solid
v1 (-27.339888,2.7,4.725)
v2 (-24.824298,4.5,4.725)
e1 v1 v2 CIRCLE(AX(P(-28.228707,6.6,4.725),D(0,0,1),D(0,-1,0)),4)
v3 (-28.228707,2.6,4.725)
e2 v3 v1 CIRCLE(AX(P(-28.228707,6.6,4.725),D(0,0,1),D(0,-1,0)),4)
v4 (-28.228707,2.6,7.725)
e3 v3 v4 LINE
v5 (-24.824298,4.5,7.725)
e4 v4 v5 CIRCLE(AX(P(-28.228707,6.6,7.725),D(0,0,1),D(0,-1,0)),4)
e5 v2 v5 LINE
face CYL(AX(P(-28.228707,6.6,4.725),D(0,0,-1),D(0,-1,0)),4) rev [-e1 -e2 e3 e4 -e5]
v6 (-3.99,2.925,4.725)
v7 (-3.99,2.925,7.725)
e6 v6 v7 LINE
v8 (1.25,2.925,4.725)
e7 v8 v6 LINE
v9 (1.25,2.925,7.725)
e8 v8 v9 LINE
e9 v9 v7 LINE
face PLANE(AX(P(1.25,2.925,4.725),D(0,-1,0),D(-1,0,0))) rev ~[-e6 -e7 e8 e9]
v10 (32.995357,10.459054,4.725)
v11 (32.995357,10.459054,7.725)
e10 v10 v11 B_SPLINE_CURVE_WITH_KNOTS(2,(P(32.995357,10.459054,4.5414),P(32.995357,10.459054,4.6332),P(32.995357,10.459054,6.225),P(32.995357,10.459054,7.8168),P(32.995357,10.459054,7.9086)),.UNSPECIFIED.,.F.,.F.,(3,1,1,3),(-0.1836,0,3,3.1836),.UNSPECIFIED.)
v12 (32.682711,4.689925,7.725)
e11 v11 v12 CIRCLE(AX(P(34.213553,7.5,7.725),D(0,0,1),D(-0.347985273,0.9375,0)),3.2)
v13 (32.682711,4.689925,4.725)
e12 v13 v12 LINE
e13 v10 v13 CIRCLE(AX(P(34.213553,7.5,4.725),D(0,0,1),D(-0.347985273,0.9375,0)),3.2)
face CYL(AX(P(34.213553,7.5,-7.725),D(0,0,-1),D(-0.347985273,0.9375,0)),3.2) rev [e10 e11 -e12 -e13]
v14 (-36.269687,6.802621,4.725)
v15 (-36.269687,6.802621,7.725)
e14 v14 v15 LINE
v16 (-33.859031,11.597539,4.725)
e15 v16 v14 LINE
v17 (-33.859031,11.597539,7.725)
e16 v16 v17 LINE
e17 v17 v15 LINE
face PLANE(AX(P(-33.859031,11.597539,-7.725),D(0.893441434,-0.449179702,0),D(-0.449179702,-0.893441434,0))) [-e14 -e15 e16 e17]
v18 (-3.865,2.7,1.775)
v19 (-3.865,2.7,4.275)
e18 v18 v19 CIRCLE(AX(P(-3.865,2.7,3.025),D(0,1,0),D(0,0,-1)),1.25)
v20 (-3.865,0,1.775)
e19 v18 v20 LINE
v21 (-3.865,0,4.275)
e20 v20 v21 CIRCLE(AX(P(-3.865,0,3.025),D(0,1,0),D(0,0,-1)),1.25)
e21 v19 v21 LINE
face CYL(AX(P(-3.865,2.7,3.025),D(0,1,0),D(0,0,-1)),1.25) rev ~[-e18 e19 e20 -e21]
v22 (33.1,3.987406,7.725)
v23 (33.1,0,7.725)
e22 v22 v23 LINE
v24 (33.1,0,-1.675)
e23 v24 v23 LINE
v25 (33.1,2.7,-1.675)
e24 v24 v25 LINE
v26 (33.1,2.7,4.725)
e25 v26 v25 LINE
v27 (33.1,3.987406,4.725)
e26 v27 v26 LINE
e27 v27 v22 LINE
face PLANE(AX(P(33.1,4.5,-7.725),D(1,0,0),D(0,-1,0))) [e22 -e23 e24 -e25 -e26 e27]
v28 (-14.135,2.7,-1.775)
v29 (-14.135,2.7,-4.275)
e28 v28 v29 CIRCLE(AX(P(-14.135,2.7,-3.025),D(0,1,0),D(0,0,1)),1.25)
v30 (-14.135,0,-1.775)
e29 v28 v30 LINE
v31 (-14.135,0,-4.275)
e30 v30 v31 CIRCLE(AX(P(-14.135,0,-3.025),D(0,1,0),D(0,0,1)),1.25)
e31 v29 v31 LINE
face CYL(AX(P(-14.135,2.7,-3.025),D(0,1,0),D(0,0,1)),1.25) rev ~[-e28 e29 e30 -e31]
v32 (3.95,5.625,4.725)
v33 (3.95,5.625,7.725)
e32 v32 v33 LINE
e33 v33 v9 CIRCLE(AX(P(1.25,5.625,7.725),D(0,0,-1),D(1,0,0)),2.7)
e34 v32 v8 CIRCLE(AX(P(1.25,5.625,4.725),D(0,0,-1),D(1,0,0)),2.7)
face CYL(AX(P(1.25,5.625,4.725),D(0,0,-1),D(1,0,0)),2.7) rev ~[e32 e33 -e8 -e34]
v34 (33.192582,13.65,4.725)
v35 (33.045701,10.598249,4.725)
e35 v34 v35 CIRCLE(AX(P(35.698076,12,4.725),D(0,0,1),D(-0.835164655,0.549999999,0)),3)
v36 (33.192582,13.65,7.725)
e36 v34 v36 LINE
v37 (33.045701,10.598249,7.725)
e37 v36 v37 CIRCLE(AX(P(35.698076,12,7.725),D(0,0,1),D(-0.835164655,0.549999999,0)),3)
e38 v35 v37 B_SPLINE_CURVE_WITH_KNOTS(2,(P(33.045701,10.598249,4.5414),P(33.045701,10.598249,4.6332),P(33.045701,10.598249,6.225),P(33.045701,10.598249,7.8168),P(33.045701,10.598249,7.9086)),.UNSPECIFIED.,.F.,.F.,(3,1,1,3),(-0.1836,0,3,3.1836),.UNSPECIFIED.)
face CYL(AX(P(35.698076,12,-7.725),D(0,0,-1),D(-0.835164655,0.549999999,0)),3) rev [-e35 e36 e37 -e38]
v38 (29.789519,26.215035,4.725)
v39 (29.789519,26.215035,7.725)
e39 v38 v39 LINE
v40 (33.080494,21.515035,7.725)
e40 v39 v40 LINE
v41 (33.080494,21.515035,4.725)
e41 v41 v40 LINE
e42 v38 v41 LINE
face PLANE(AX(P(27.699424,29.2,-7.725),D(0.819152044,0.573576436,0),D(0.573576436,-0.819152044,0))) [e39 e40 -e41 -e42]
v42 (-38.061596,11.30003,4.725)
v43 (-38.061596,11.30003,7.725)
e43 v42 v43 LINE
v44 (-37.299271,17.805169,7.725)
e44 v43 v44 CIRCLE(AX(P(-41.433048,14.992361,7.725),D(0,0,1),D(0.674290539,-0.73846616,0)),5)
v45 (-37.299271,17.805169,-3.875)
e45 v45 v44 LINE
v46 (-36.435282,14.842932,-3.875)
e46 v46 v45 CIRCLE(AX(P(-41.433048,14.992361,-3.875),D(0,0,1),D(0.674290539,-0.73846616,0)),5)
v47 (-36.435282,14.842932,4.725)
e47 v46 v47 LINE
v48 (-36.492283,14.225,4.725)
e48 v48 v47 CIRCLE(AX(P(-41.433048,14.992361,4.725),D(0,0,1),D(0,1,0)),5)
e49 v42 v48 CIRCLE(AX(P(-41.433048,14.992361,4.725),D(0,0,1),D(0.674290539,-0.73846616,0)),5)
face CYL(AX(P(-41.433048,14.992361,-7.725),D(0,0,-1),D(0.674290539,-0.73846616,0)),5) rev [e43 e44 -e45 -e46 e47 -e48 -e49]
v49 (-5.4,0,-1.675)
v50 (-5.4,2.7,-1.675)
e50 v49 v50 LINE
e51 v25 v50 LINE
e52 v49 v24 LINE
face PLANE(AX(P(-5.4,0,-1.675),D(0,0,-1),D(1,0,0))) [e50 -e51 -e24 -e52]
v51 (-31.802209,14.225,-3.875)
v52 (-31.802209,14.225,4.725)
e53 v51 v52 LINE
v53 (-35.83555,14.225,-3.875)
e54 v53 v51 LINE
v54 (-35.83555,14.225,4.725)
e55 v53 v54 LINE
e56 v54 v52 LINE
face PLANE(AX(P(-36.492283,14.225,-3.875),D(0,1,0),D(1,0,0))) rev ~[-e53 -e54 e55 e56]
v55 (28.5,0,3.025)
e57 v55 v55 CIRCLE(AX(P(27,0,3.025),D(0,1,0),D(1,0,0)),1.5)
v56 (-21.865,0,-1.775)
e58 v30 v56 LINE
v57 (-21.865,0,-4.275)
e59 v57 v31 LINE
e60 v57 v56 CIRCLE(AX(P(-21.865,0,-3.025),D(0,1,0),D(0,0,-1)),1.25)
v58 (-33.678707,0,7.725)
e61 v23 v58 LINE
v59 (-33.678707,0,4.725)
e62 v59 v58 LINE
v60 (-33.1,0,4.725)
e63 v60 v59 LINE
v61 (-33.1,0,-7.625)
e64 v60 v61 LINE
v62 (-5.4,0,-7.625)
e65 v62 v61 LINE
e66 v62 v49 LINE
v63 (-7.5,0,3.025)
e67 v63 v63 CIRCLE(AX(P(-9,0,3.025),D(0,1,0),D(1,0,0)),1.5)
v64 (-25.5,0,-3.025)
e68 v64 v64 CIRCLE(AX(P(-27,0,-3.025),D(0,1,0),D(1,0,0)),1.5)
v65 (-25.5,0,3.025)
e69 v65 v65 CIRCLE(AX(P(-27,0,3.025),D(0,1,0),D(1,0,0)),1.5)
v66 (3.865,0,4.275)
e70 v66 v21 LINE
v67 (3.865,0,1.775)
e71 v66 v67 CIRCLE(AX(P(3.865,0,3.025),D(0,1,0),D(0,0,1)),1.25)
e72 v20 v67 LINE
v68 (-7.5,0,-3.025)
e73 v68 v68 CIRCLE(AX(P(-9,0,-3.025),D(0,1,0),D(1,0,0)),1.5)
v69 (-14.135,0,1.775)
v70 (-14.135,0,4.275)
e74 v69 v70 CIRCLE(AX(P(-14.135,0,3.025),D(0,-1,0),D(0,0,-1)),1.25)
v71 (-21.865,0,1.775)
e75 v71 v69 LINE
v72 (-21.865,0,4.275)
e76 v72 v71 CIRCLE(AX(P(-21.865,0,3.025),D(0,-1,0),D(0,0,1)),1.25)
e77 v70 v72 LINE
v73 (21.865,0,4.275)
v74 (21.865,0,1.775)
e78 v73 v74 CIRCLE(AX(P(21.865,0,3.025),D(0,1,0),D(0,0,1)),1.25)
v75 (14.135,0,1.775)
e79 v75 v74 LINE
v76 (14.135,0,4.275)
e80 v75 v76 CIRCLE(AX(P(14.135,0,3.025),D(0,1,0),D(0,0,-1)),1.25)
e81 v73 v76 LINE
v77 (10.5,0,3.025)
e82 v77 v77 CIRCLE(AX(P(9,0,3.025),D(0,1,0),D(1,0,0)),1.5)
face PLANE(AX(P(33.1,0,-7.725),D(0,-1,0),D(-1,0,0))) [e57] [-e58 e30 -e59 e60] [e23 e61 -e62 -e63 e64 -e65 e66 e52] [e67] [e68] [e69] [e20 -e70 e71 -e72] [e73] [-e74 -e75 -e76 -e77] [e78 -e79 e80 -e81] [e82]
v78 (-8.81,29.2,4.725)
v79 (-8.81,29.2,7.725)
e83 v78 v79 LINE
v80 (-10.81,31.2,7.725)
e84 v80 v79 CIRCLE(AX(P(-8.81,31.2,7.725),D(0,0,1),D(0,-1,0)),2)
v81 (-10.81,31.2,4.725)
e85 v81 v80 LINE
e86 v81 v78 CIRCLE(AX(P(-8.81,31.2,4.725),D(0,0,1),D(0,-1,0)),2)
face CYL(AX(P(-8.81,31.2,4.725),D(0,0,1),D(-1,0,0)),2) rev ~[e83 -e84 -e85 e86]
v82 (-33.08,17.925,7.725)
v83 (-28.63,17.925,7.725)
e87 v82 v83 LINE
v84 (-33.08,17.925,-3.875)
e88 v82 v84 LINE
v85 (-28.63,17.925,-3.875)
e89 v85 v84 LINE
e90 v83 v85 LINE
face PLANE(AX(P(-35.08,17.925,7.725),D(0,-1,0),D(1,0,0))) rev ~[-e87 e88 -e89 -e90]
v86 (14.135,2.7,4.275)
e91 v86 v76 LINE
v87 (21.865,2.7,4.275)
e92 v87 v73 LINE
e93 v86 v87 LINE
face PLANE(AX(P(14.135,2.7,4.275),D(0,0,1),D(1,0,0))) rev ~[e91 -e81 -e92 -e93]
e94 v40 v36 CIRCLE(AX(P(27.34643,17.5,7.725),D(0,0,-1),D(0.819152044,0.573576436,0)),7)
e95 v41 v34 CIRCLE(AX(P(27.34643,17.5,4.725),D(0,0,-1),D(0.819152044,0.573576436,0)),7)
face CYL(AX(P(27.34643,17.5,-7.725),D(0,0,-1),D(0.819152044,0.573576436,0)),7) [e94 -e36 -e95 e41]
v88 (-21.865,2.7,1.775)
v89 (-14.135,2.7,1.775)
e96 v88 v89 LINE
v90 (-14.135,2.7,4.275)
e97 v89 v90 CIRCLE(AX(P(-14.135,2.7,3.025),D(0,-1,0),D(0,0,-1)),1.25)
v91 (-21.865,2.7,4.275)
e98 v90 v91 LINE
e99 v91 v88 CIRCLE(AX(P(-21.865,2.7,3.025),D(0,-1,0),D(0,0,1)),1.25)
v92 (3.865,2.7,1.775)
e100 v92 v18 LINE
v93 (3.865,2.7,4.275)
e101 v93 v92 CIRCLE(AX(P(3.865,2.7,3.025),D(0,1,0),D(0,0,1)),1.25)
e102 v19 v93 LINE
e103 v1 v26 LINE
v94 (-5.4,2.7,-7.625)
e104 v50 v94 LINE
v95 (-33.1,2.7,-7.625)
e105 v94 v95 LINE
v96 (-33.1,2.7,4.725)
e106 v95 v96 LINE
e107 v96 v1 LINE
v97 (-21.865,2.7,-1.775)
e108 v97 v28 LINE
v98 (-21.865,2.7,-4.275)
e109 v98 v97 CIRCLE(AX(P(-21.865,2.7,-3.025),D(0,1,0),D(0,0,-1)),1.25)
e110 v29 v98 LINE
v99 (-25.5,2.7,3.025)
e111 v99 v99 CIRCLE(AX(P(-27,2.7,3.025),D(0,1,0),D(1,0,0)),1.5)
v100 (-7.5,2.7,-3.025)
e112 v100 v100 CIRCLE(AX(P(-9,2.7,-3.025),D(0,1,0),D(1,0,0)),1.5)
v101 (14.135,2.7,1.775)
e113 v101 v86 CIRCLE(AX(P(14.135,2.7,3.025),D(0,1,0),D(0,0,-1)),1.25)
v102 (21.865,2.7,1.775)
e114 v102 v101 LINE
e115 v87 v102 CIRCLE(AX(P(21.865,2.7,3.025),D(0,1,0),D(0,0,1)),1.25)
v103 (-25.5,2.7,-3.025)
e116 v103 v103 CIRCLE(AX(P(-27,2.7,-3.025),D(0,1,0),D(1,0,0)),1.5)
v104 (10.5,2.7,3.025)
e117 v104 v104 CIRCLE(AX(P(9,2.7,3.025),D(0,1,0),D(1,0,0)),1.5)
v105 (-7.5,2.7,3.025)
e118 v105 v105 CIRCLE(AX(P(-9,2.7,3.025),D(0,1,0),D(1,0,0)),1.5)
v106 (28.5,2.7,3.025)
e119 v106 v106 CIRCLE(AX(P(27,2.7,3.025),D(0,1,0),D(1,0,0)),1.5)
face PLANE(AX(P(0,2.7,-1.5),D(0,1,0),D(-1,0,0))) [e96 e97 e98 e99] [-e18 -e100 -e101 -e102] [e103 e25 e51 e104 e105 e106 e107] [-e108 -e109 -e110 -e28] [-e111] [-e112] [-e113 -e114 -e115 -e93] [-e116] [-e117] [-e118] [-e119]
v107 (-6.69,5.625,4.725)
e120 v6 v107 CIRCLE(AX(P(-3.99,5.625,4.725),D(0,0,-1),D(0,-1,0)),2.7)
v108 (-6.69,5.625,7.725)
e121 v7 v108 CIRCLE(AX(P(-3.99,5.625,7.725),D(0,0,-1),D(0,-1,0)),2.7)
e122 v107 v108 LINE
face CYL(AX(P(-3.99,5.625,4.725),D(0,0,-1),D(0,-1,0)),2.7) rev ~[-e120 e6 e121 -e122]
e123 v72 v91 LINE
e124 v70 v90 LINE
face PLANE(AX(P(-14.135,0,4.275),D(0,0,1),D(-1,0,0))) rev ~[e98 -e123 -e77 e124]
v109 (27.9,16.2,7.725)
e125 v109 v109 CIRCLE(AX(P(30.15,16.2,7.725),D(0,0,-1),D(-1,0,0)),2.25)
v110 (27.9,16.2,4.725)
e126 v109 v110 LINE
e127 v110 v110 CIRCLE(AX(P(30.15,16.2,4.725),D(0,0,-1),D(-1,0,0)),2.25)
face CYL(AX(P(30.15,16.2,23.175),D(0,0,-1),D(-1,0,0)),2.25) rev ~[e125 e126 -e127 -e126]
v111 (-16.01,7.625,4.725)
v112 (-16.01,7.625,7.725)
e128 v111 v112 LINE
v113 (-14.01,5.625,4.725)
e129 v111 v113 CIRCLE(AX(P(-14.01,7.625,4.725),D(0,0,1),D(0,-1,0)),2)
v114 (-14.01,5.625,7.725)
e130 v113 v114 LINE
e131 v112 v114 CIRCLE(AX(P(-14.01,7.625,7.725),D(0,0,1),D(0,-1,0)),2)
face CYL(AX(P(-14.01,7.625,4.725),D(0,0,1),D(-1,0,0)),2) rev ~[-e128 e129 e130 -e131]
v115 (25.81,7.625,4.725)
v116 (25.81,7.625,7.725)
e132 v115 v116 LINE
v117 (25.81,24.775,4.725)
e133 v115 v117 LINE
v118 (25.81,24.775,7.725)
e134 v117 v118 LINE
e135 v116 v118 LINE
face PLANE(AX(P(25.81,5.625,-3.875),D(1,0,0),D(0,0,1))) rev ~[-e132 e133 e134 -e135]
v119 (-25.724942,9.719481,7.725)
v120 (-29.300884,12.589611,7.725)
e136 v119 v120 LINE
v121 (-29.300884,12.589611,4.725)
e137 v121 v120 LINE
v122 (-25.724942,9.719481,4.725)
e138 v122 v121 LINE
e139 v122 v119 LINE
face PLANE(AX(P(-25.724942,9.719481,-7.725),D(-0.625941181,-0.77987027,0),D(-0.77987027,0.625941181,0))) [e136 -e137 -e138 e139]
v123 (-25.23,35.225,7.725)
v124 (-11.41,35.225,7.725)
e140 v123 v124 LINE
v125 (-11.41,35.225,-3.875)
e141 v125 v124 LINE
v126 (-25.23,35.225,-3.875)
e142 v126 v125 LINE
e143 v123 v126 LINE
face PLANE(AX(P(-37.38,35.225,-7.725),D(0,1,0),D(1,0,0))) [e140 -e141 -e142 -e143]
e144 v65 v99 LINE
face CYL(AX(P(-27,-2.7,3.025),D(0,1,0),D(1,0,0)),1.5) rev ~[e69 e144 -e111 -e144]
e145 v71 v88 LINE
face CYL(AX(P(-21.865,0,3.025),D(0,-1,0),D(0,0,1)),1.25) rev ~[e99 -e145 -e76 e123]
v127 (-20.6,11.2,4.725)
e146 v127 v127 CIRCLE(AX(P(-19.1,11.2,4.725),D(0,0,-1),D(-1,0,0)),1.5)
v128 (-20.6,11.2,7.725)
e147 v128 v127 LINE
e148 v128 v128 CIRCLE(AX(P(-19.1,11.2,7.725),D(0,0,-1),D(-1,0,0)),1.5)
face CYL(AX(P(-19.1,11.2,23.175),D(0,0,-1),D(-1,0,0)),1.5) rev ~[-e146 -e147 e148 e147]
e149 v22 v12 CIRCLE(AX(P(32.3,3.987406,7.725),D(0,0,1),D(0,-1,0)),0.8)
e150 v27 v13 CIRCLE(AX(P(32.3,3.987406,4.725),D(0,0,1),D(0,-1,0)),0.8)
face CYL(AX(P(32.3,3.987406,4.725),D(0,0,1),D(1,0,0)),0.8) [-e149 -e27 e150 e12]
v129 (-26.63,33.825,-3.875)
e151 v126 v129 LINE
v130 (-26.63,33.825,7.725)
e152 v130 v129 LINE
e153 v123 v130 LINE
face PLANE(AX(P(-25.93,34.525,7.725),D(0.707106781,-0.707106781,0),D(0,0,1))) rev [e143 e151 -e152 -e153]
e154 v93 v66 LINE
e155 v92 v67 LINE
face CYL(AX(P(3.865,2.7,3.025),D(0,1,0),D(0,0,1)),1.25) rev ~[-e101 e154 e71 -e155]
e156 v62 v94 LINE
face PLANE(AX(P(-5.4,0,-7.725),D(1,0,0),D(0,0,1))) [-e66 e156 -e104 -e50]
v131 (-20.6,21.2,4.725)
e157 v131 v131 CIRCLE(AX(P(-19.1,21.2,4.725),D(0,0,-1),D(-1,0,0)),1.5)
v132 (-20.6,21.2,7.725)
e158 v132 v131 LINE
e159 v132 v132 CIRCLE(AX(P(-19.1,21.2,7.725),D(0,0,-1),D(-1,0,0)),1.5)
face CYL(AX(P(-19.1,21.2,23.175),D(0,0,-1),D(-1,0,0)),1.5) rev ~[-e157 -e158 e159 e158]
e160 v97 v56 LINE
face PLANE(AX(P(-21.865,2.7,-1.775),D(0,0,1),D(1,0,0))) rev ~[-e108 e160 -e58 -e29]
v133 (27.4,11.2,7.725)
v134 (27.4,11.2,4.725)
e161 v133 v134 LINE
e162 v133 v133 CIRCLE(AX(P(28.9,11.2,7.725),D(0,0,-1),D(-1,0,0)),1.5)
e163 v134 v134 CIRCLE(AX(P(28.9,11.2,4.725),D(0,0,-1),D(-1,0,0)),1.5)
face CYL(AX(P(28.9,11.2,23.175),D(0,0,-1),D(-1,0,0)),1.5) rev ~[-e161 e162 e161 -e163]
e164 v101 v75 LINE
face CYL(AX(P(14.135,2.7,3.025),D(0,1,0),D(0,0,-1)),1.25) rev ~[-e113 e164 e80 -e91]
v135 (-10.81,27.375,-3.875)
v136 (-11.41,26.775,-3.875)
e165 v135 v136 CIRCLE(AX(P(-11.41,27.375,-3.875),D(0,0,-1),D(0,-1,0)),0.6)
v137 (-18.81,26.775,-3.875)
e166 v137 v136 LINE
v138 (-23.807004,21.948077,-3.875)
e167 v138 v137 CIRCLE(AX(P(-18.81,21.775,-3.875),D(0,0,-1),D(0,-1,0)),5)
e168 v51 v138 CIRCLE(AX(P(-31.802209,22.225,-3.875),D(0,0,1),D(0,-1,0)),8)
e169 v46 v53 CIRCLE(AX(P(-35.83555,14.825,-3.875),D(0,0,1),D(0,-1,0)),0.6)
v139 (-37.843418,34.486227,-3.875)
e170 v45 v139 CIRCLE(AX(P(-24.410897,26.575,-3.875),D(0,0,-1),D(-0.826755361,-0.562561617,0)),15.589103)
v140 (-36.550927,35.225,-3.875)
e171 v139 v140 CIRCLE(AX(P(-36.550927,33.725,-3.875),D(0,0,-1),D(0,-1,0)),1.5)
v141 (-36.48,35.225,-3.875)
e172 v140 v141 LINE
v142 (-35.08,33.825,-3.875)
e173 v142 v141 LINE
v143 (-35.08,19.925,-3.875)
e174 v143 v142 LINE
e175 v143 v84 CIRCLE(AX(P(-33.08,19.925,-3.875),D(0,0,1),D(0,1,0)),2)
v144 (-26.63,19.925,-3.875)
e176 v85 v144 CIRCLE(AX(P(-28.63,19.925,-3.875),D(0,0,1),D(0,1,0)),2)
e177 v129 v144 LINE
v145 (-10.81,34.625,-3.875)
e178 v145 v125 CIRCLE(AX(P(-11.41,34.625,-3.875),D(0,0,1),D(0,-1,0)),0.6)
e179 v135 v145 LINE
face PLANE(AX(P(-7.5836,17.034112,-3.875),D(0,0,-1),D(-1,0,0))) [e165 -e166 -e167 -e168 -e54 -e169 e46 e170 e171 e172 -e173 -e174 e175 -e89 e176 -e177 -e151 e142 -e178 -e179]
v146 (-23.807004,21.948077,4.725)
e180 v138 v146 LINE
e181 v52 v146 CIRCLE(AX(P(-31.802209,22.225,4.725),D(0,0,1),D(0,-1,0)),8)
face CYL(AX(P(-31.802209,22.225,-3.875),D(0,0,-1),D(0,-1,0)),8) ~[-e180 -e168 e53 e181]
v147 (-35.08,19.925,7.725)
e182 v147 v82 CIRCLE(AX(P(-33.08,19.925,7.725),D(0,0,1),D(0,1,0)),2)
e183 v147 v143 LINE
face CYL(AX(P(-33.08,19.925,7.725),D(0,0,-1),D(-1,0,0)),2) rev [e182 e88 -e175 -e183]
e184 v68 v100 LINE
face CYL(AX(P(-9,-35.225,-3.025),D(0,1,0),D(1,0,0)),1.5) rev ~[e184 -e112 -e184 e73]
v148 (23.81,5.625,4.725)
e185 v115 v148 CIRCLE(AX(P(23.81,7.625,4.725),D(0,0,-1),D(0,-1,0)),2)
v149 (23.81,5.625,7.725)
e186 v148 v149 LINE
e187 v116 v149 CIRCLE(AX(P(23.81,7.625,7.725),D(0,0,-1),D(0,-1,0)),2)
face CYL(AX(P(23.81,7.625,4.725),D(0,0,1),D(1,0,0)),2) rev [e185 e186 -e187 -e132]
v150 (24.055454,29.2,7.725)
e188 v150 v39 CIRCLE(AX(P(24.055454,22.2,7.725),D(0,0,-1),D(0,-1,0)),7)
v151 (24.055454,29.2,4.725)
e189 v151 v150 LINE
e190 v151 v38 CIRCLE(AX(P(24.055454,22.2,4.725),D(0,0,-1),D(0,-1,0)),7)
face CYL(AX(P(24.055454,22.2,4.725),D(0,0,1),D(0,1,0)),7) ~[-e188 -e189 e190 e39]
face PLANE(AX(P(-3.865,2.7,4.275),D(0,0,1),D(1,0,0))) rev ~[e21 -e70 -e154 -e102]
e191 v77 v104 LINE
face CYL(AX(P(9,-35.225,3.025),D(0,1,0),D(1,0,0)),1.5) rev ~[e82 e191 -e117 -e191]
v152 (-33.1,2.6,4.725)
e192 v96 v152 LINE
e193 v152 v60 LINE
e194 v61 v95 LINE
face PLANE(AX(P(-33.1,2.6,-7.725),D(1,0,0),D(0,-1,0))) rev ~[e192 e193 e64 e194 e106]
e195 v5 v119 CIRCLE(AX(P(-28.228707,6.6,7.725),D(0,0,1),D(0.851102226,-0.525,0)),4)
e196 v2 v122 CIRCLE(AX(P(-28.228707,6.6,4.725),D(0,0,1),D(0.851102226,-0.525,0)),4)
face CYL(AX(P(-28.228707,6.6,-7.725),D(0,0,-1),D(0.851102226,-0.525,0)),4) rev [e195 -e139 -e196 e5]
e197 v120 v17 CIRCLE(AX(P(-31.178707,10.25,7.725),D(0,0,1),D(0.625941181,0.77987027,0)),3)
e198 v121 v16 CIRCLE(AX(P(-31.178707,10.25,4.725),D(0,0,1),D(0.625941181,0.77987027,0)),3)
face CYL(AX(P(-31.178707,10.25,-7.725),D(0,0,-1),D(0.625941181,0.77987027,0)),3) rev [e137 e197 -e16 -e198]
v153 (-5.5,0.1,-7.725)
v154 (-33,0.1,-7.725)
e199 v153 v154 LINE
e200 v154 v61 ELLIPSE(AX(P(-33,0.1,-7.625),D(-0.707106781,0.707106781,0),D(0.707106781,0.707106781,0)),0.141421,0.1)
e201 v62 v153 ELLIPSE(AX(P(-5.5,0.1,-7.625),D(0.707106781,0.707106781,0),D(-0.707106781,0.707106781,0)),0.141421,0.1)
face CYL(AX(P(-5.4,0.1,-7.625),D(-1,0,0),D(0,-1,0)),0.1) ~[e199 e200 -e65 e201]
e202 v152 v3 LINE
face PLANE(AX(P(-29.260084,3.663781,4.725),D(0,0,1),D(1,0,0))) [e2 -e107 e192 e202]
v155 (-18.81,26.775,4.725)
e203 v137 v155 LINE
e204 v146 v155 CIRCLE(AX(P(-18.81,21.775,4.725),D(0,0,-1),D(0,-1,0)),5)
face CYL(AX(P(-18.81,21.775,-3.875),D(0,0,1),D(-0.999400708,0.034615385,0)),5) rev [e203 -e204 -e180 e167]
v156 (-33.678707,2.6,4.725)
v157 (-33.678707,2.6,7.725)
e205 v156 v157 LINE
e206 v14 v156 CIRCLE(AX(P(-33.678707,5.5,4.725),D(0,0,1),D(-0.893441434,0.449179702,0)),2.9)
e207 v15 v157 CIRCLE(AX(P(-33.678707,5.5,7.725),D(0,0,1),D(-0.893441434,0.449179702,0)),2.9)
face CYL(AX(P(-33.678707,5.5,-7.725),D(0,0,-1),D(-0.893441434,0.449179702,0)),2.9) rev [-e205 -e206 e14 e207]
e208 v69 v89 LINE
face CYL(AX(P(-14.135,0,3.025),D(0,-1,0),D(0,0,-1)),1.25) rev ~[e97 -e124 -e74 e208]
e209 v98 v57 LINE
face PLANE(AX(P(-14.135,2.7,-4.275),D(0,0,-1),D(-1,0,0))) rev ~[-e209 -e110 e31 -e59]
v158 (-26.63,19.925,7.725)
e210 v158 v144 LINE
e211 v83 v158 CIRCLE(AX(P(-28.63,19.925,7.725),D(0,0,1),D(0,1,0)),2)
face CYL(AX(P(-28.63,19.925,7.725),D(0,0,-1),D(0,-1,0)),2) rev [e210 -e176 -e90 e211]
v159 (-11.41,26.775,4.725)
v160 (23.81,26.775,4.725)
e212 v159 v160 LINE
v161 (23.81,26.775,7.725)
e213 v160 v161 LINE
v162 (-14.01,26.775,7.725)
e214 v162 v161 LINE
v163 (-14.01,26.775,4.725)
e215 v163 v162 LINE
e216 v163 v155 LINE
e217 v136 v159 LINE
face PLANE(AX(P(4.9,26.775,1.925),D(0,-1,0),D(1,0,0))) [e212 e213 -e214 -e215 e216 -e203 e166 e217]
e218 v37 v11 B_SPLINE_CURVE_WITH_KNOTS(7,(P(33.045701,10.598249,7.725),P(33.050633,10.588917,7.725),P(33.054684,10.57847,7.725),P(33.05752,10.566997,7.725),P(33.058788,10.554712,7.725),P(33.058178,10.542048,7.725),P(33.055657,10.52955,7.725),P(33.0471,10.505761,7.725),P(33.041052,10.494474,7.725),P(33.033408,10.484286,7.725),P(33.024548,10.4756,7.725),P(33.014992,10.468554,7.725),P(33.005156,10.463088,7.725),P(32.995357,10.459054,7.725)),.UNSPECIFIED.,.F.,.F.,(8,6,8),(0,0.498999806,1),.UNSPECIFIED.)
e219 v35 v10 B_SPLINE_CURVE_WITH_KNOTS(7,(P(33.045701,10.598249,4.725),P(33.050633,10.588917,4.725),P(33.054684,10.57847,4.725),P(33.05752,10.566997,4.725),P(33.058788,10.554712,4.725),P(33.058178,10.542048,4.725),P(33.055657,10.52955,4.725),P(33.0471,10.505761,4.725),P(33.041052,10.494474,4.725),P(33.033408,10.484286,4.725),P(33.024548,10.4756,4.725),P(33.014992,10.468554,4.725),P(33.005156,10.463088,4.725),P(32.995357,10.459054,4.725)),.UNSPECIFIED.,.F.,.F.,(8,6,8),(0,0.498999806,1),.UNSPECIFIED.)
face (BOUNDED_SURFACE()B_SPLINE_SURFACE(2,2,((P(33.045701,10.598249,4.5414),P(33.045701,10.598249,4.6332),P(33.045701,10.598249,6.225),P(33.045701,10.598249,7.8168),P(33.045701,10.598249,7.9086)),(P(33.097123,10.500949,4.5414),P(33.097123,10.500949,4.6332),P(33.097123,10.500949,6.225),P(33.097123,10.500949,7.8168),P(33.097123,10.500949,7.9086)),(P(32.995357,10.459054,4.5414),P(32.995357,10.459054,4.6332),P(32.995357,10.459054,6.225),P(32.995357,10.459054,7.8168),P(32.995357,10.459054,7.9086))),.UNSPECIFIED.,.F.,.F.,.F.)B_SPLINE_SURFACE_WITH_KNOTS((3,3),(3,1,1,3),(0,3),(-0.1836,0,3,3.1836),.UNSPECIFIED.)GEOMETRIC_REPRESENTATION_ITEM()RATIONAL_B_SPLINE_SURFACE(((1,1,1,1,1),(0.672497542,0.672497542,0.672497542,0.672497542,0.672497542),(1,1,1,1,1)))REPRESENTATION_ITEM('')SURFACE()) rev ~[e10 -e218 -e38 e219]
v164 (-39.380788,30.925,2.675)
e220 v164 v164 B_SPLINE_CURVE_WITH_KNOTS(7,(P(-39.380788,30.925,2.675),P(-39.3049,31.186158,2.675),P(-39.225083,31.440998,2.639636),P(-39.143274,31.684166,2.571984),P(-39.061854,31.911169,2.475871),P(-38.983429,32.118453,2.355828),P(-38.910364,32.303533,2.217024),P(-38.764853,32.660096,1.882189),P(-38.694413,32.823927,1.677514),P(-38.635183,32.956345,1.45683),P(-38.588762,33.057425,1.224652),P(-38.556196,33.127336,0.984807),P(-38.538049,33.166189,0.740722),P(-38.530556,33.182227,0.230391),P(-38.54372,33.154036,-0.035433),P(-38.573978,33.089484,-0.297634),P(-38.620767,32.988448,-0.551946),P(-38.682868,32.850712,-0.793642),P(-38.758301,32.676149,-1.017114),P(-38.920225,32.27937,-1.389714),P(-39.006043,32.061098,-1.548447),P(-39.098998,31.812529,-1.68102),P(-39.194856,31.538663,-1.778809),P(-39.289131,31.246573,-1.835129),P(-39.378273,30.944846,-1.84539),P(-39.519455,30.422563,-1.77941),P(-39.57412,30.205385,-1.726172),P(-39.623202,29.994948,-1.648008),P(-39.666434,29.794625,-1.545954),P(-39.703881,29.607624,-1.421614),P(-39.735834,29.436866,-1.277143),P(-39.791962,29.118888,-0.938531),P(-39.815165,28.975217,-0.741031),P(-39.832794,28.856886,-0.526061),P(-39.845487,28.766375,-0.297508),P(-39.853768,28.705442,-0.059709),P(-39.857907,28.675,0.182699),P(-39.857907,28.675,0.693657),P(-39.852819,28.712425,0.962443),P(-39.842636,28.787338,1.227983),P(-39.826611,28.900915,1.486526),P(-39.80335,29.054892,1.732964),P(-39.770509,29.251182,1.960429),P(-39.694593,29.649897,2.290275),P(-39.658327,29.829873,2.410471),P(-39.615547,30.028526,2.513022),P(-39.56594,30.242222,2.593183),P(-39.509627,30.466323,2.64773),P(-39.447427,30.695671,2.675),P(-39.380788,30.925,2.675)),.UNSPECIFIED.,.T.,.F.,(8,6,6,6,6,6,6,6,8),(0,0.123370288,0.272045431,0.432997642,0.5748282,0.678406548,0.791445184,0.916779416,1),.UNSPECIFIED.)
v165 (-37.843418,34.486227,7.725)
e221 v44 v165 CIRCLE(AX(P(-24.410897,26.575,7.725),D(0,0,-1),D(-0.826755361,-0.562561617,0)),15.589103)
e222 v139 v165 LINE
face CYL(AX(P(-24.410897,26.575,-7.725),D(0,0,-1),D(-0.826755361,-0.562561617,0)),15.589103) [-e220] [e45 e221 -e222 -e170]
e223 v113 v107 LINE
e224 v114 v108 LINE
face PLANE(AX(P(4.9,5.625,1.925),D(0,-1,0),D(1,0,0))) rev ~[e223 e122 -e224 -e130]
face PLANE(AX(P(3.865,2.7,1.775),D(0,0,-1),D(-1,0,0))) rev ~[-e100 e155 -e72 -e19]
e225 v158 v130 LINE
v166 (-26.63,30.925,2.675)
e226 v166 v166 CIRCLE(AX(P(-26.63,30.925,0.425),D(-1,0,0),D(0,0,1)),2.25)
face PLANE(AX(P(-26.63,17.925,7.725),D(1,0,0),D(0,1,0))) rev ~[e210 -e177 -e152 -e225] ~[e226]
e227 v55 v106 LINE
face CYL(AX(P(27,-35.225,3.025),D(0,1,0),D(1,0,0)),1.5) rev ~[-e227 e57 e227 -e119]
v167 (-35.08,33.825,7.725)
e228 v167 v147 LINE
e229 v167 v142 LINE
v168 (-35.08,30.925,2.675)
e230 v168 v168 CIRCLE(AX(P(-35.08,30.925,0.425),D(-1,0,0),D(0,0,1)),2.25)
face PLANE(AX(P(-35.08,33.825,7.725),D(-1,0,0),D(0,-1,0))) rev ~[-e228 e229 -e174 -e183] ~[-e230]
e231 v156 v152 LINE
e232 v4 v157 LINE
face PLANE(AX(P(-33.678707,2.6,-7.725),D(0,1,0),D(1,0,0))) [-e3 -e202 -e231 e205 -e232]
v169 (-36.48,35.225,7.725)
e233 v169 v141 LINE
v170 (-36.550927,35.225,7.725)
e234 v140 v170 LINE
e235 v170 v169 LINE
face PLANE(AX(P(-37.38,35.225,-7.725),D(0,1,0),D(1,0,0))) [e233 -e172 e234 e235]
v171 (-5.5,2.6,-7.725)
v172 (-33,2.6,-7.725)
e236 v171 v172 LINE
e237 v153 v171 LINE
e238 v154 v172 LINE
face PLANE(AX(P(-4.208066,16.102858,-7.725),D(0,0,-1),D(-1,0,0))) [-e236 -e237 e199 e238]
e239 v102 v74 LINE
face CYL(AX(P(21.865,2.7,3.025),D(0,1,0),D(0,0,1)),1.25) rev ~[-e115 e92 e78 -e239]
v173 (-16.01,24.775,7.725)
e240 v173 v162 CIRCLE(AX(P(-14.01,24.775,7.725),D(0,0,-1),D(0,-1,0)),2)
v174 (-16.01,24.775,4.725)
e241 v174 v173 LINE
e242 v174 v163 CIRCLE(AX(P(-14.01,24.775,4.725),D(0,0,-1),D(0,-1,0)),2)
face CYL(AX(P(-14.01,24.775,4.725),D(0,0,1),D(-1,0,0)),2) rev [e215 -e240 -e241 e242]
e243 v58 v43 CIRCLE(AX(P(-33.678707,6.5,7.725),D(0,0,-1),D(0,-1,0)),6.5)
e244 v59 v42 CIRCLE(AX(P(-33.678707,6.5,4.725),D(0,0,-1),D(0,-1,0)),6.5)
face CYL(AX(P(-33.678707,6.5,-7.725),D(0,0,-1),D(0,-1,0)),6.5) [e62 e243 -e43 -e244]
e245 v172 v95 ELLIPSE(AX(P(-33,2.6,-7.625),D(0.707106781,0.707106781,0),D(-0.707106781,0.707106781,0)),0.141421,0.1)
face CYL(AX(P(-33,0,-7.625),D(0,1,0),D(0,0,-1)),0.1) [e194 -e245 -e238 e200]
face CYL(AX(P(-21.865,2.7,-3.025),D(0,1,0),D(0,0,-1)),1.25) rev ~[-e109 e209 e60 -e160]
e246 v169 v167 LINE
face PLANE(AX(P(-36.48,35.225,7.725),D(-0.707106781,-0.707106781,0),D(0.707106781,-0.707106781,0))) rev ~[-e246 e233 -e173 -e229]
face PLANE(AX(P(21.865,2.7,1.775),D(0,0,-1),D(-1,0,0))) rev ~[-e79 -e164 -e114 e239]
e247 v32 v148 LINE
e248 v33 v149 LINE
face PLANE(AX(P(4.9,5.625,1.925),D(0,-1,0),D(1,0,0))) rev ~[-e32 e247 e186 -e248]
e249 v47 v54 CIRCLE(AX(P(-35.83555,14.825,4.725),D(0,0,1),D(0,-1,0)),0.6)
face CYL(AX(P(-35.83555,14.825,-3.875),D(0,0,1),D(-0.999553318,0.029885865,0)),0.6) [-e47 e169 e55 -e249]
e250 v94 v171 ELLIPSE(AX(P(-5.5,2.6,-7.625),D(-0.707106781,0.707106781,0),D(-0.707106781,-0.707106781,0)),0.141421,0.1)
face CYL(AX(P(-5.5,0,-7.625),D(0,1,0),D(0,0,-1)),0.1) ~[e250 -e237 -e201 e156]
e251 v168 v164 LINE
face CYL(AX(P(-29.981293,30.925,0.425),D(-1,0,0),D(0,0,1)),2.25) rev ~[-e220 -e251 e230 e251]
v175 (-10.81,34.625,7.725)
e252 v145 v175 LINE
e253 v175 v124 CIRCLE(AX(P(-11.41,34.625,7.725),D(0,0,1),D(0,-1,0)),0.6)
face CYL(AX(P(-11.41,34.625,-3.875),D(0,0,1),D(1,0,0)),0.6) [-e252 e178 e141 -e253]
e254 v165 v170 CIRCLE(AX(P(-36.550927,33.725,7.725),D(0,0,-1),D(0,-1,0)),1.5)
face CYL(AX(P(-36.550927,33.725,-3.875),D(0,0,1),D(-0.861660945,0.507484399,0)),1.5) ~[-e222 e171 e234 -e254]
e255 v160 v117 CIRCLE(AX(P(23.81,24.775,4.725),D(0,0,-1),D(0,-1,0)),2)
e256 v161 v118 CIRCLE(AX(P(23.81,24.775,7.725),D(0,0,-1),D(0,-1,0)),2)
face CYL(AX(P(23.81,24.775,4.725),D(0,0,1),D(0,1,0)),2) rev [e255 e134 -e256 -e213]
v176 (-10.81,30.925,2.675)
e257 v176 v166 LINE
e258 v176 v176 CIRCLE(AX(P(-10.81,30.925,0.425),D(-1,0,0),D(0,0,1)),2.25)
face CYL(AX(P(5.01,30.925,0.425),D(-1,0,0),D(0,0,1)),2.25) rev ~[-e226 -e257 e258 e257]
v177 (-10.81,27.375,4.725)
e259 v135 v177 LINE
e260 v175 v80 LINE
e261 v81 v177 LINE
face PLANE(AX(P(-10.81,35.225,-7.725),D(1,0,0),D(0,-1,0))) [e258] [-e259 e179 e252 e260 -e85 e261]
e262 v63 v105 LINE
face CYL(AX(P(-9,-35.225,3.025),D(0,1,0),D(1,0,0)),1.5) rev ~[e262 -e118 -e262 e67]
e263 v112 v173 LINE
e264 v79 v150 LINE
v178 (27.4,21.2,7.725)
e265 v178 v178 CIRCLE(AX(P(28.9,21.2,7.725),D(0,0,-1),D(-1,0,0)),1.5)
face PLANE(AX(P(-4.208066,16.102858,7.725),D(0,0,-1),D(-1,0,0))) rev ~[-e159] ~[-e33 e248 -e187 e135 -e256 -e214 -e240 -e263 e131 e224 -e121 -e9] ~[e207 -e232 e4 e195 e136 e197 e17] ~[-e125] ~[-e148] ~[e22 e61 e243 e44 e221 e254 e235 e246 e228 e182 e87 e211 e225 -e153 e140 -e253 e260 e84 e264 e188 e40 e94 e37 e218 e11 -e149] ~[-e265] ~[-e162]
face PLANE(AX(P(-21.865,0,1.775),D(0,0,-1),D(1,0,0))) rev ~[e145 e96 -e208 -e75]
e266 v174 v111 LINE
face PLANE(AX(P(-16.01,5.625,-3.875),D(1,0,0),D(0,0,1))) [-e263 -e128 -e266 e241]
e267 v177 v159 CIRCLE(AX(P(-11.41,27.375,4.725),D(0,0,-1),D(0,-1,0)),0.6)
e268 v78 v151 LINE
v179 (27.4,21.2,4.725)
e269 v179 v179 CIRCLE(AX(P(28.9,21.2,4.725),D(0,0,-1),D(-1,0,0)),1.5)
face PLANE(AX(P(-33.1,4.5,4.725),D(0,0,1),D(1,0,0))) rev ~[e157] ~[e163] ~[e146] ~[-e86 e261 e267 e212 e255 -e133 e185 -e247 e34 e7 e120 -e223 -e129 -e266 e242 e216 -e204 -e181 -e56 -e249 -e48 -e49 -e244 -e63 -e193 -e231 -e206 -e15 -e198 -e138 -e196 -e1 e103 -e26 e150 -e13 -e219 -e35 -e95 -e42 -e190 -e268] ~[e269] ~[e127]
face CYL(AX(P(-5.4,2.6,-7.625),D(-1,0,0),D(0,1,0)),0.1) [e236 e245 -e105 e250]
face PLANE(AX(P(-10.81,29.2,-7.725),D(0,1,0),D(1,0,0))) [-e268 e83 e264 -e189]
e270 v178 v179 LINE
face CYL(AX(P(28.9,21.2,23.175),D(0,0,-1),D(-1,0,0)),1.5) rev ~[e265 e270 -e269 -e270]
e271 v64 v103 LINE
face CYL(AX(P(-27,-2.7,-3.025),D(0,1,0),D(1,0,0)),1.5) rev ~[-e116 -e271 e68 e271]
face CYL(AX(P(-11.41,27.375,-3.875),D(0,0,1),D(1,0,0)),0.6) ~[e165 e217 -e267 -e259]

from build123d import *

# Parameters (mm, degrees)
EXTRUDE_1_DEPTH             = 15.45
CUT_EXTRUDE_START           = -3
CUT_EXTRUDE_1_DEPTH         = 3
CUT_EXTRUDE_2_DEPTH         = 3.85
SKETCH_4_W                  = 41.82
SKETCH_4_H                  = 11.6
CUT_EXTRUDE_3_DEPTH         = 21.15
CUT_EXTRUDE_4_DEPTH         = 8.6
CUT_EXTRUDE_5_DEPTH         = 1.8
CUT_EXTRUDE_6_DEPTH         = 55.864666488
SKETCH_8_W                  = 38.5
SKETCH_8_H                  = 6.05
CUT_EXTRUDE_7_DEPTH         = 54.988931771
CUT_EXTRUDE_8_DEPTH         = 56.622222437
CUT_EXTRUDE_9_DEPTH         = 53.267387096
CUT_EXTRUDE_10_DEPTH        = 53.267387096
CUT_EXTRUDE_11_DEPTH        = 53.267387096
CUT_EXTRUDE_12_REACH        = 55.989
HOLE_WIZARD_4_5_4_5_1_D     = 4.5
HOLE_WIZARD_4_5_4_5_1_DEPTH = 15.45
HOLE_WIZARD_3_0_3_1_D       = 3
HOLE_WIZARD_3_0_3_1_DEPTH   = 15.45
HOLE_WIZARD_4_5_4_5_2_D     = 4.5
HOLE_WIZARD_4_5_4_5_2_DEPTH = 15.82
HOLE_WIZARD_3_0_3_2_D       = 3
HOLE_WIZARD_3_0_3_2_DEPTH   = 35.225
HOLE_WIZARD_3_0_3_3_D       = 3
HOLE_WIZARD_3_0_3_3_DEPTH   = 2.7
HOLE_WIZARD_4_5_4_5_3_D     = 4.5
HOLE_WIZARD_4_5_4_5_3_DEPTH = 5.098707083
CHAMFER_1_SIZE              = 1.4
FILLET_1_R                  = 0.1
FILLET_2_R                  = 0.6
FILLET_3_R                  = 0.8
FILLET_4_R                  = 1.5
FILLET_5_R                  = 2
FILLET_6_R                  = 5
FILLET_7_R                  = 7


with BuildPart() as part:
    # 草图1 → 凸台-拉伸1 (new body)
    with BuildSketch(Plane(origin=(0, 0, -7.725), x_dir=(-1, 0, 0), z_dir=(0, 0, -1))):
        with BuildLine():
            Line((-33.1, 4.5), (-33.1, 0))
            Line((-33.1, 0), (33.678707095, 0))
            ThreePointArc((33.678707095, 0), (39.738830661, 4.149488914), (38.061595595, 11.300030041))
            ThreePointArc((38.061595595, 11.300030041), (36.467031228, 14.410403313), (37.299271482, 17.805168927))
            ThreePointArc((37.299271482, 17.805168927), (39.999832621, 26.502756343), (37.380000011, 35.225))
            Line((37.380000011, 35.225), (10.810000011, 35.225))
            Line((10.810000011, 35.225), (10.810000011, 29.2))
            Line((10.810000011, 29.2), (-27.699423591, 29.2))
            Line((-27.699423591, 29.2), (-33.080493977, 21.515035054))
            ThreePointArc((-33.080493977, 21.515035054), (-34.34571891, 17.599750125), (-33.192582248, 13.65))
            ThreePointArc((-33.192582248, 13.65), (-32.699371136, 12.08813551), (-33.1, 10.5))
            ThreePointArc((-33.1, 10.5), (-31.013552873, 7.5), (-33.1, 4.5))
        make_face()
        with BuildLine():
            Line((33.1, 4.5), (24.824298189, 4.5))
            ThreePointArc((24.824298189, 4.5), (24.286959437, 7.280165717), (25.72494237, 9.719481079))
            Line((25.72494237, 9.719481079), (29.300883551, 12.589610809))
            ThreePointArc((29.300883551, 12.589610809), (31.816714487, 13.181372813), (33.859031396, 11.597539106))
            Line((33.859031396, 11.597539106), (36.269687252, 6.802621136))
            ThreePointArc((36.269687252, 6.802621136), (36.14726956, 3.978093514), (33.678707095, 2.6))
            Line((33.678707095, 2.6), (33.1, 2.6))
            Line((33.1, 2.6), (33.1, 4.5))
        make_face(mode=Mode.SUBTRACT)
    extrude(amount=-EXTRUDE_1_DEPTH)

    # 草图2 → 切除-拉伸1 (cut)
    with BuildSketch(Plane.XY.offset(7.725).offset(CUT_EXTRUDE_START)):
        with BuildLine():
            Line((-33.1, 2.7), (-33.1, 2.6))
            Line((-33.1, 2.6), (-28.228707095, 2.6))
            ThreePointArc((-28.228707095, 2.6), (-26.279348226, 3.107150161), (-24.824298189, 4.5))
            Line((-24.824298189, 4.5), (-33.1, 4.5))
            Line((-33.1, 4.5), (-33.1, 2.7))
        make_face()
    extrude(amount=CUT_EXTRUDE_1_DEPTH, mode=Mode.SUBTRACT)

    # 草图3 → 切除-拉伸2 (cut)
    with BuildSketch(Plane(origin=(0, 0, -7.725), x_dir=(-1, 0, 0), z_dir=(0, 0, -1))):
        with BuildLine():
            Line((37.380000011, 35.225), (10.810000011, 35.225))
            Line((10.810000011, 35.225), (10.810000011, 29.2))
            Line((10.810000011, 29.2), (-27.699423591, 29.2))
            Line((-27.699423591, 29.2), (-33.080493977, 21.515035054))
            ThreePointArc((-33.080493977, 21.515035054), (-34.34571891, 17.599750125), (-33.192582248, 13.65))
            ThreePointArc((-33.192582248, 13.65), (-32.699371136, 12.08813551), (-33.1, 10.5))
            ThreePointArc((-33.1, 10.5), (-31.013552873, 7.5), (-33.1, 4.5))
            Line((-33.1, 4.5), (24.824298189, 4.5))
            ThreePointArc((24.824298189, 4.5), (24.286959437, 7.280165717), (25.72494237, 9.719481079))
            Line((25.72494237, 9.719481079), (29.300883551, 12.589610809))
            ThreePointArc((29.300883551, 12.589610809), (31.816714487, 13.181372813), (33.859031396, 11.597539106))
            Line((33.859031396, 11.597539106), (36.269687252, 6.802621136))
            ThreePointArc((36.269687252, 6.802621136), (36.14726956, 3.978093514), (33.678707095, 2.6))
            Line((33.678707095, 2.6), (33.1, 2.6))
            Line((33.1, 2.6), (33.1, 0))
            Line((33.1, 0), (33.678707095, 0))
            ThreePointArc((33.678707095, 0), (39.738830661, 4.149488914), (38.061595595, 11.300030041))
            ThreePointArc((38.061595595, 11.300030041), (36.467031228, 14.410403313), (37.299271482, 17.805168927))
            ThreePointArc((37.299271482, 17.805168927), (39.999832621, 26.502756343), (37.380000011, 35.225))
        make_face()
    extrude(amount=-CUT_EXTRUDE_2_DEPTH, mode=Mode.SUBTRACT)

    # 草图4 → 切除-拉伸3 (cut)
    with BuildSketch(Plane.XZ.offset(-5.625)):
        with Locations((4.899999989, 1.925)):
            Rectangle(SKETCH_4_W, SKETCH_4_H)
    extrude(amount=-CUT_EXTRUDE_3_DEPTH, mode=Mode.SUBTRACT)

    # 草图5 → 切除-拉伸4 (cut)
    with BuildSketch(Plane(origin=(0, 0, -3.875), x_dir=(-1, 0, 0), z_dir=(0, 0, -1))):
        with BuildLine():
            Line((-33.1, 4.5), (24.824298189, 4.5))
            ThreePointArc((24.824298189, 4.5), (24.286959437, 7.280165717), (25.72494237, 9.719481079))
            Line((25.72494237, 9.719481079), (29.300883551, 12.589610809))
            ThreePointArc((29.300883551, 12.589610809), (31.816714487, 13.181372813), (33.859031396, 11.597539106))
            Line((33.859031396, 11.597539106), (36.269687252, 6.802621136))
            ThreePointArc((36.269687252, 6.802621136), (36.14726956, 3.978093514), (33.678707095, 2.6))
            Line((33.678707095, 2.6), (33.1, 2.6))
            Line((33.1, 2.6), (33.1, 0))
            Line((33.1, 0), (33.678707095, 0))
            ThreePointArc((33.678707095, 0), (39.738830661, 4.149488914), (38.061595595, 11.300030041))
            ThreePointArc((38.061595595, 11.300030041), (37.027131533, 12.628487421), (36.492283434, 14.225))
            Line((36.492283434, 14.225), (31.802209215, 14.225))
            ThreePointArc((31.802209215, 14.225), (24.717013382, 18.510164876), (25.222125629, 26.775))
            Line((25.222125629, 26.775), (16.010000011, 26.775))
            Line((16.010000011, 26.775), (16.010000011, 5.625))
            Line((16.010000011, 5.625), (-25.809999989, 5.625))
            Line((-25.809999989, 5.625), (-25.809999989, 26.775))
            Line((-25.809999989, 26.775), (10.810000011, 26.775))
            Line((10.810000011, 26.775), (10.810000011, 29.2))
            Line((10.810000011, 29.2), (-27.699423591, 29.2))
            Line((-27.699423591, 29.2), (-33.080493977, 21.515035054))
            ThreePointArc((-33.080493977, 21.515035054), (-34.34571891, 17.599750125), (-33.192582248, 13.65))
            ThreePointArc((-33.192582248, 13.65), (-32.699371136, 12.08813551), (-33.1, 10.5))
            ThreePointArc((-33.1, 10.5), (-31.013552873, 7.5), (-33.1, 4.5))
        make_face()
    extrude(amount=-CUT_EXTRUDE_4_DEPTH, mode=Mode.SUBTRACT)

    # 草图6 → 切除-拉伸5 (cut)
    with BuildSketch(Plane(origin=(0, 4.5, 0), x_dir=(-1, 0, 0), z_dir=(0, 1, 0))):
        Polygon((-33.1, 4.725), (-33.1, -7.725), (33.1, -7.725), (33.1, 4.725), (27.339887653, 4.725), align=None)
    extrude(amount=-CUT_EXTRUDE_5_DEPTH, mode=Mode.SUBTRACT)

    # 草图7 → 切除-拉伸6 (cut, through all)
    with BuildSketch(Plane(origin=(0, 0, 4.725), x_dir=(-1, 0, 0), z_dir=(0, 0, -1))):
        with BuildLine():
            Line((6.690000011, 5.625), (-3.949999989, 5.625))
            ThreePointArc((-3.949999989, 5.625), (-3.159188298, 3.715811691), (-1.249999989, 2.925))
            Line((-1.249999989, 2.925), (3.990000011, 2.925))
            ThreePointArc((3.990000011, 2.925), (5.899188321, 3.715811691), (6.690000011, 5.625))
        make_face()
    extrude(amount=-CUT_EXTRUDE_6_DEPTH, mode=Mode.SUBTRACT)

    # 草图8 → 切除-拉伸7 (cut, through all)
    with BuildSketch(Plane.XZ):
        with Locations((13.85, -4.7)):
            Rectangle(SKETCH_8_W, SKETCH_8_H)
    extrude(amount=-CUT_EXTRUDE_7_DEPTH, mode=Mode.SUBTRACT)

    # 草图9 → 切除-拉伸8 (cut, through all)
    with BuildSketch(Plane.XY.offset(7.725)):
        Polygon((-26.630000011, 35.225), (-36.480000011, 35.225), (-35.080000011, 33.825), (-35.080000011, 17.925), (-26.630000011, 17.925), align=None)
    extrude(amount=-CUT_EXTRUDE_8_DEPTH, mode=Mode.SUBTRACT)

    # 草图10 → 切除-拉伸9 (cut, through all)
    with BuildSketch(Plane(origin=(0, 2.7, 0), x_dir=(-1, 0, 0), z_dir=(0, 1, 0))):
        with BuildLine():
            Line((3.865, 4.275), (-3.865, 4.275))
            ThreePointArc((-3.865, 4.275), (-5.115, 3.025), (-3.865, 1.775))
            Line((-3.865, 1.775), (3.865, 1.775))
            ThreePointArc((3.865, 1.775), (5.115, 3.025), (3.865, 4.275))
        make_face()
    extrude(amount=-CUT_EXTRUDE_9_DEPTH, mode=Mode.SUBTRACT)

    # 草图11 → 切除-拉伸10 (cut, through all)
    with BuildSketch(Plane(origin=(0, 2.7, 0), x_dir=(-1, 0, 0), z_dir=(0, 1, 0))):
        with BuildLine():
            Line((-14.135, 4.275), (-21.865, 4.275))
            ThreePointArc((-21.865, 4.275), (-23.115, 3.025), (-21.865, 1.775))
            Line((-21.865, 1.775), (-14.135, 1.775))
            ThreePointArc((-14.135, 1.775), (-12.885, 3.025), (-14.135, 4.275))
        make_face()
    extrude(amount=-CUT_EXTRUDE_10_DEPTH, mode=Mode.SUBTRACT)

    # 草图12 → 切除-拉伸11 (cut, through all)
    with BuildSketch(Plane(origin=(0, 2.7, 0), x_dir=(-1, 0, 0), z_dir=(0, 1, 0))):
        with BuildLine():
            Line((14.135, -4.275), (21.865, -4.275))
            ThreePointArc((21.865, -4.275), (23.115, -3.025), (21.865, -1.775))
            Line((21.865, -1.775), (14.135, -1.775))
            ThreePointArc((14.135, -1.775), (12.885, -3.025), (14.135, -4.275))
        make_face()
    extrude(amount=-CUT_EXTRUDE_11_DEPTH, mode=Mode.SUBTRACT)

    # 草图13 → 切除-拉伸12 (cut, up to next)
    with BuildSketch(Plane.XZ, mode=Mode.PRIVATE) as cut_extrude_12_sk1:
        with BuildLine():
            Line((-14.135, 4.275), (-21.865, 4.275))
            ThreePointArc((-21.865, 4.275), (-23.115, 3.025), (-21.865, 1.775))
            Line((-21.865, 1.775), (-14.135, 1.775))
            ThreePointArc((-14.135, 1.775), (-12.885, 3.025), (-14.135, 4.275))
        make_face()
    cut_extrude_12_tool1 = extrude(cut_extrude_12_sk1.sketch, amount=-CUT_EXTRUDE_12_REACH, mode=Mode.PRIVATE) & part.part
    add(cut_extrude_12_tool1.solids().sort_by_distance((-18, 0, 3.025))[0], mode=Mode.SUBTRACT)

    # Ø4.5 (4.5) 直径孔1
    with Locations(Plane.XY.offset(7.725)):
        with Locations((30.149999977, 16.200000001)):
            Hole(HOLE_WIZARD_4_5_4_5_1_D / 2, depth=HOLE_WIZARD_4_5_4_5_1_DEPTH)

    # Ø3.0 (3) 直径孔1
    with Locations(Plane.XY.offset(7.725)):
        with Locations((-19.1, 11.2), (28.9, 11.200000001), (-19.1, 21.2), (28.899999977, 21.200000001)):
            Hole(HOLE_WIZARD_3_0_3_1_D / 2, depth=HOLE_WIZARD_3_0_3_1_DEPTH)

    # Ø4.5 (4.5) 直径孔2
    with Locations(Plane(origin=(-10.810000011, 0, 0), x_dir=(0, 0, -1), z_dir=(1, 0, 0))):
        with Locations((-0.425, 30.925)):
            Hole(HOLE_WIZARD_4_5_4_5_2_D / 2, depth=HOLE_WIZARD_4_5_4_5_2_DEPTH)

    # Ø3.0 (3) 直径孔2
    with Locations(Plane(origin=(0, 0, 0), x_dir=(-1, 0, 0), z_dir=(0, -1, 0))):
        with Locations((-9, -3.025), (9, -3.025), (9, 3.025), (-27, -3.025)):
            Hole(HOLE_WIZARD_3_0_3_2_D / 2, depth=HOLE_WIZARD_3_0_3_2_DEPTH)

    # Ø3.0 (3) 直径孔3
    with Locations(Plane(origin=(0, 0, 0), x_dir=(-1, 0, 0), z_dir=(0, -1, 0))):
        with Locations((27, -3.025), (27, 3.025)):
            Hole(HOLE_WIZARD_3_0_3_3_D / 2, depth=HOLE_WIZARD_3_0_3_3_DEPTH)

    # Ø4.5 (4.5) 直径孔3
    with Locations(Plane(origin=(-35.080000011, 0, 0), x_dir=(0, 0, -1), z_dir=(1, 0, 0))):
        with Locations((-0.425, 30.925)):
            Hole(HOLE_WIZARD_4_5_4_5_3_D / 2, depth=HOLE_WIZARD_4_5_4_5_3_DEPTH)

    # 倒角1
    chamfer_1_edges = [part.edges().sort_by_distance(p)[0] for p in [
        (-26.630000011, 35.225, 1.925),
    ]]
    chamfer(chamfer_1_edges, length=CHAMFER_1_SIZE)

    # 圆角1
    fillet_1_edges = [part.edges().sort_by_distance(p)[0] for p in [
        (33.1, 10.5, 6.225),
        (-33.1, 1.35, -7.725),
        (-19.25, 2.7, -7.725),
        (-19.25, 0, -7.725),
        (-5.4, 1.35, -7.725),
    ]]
    fillet(fillet_1_edges, radius=FILLET_1_R)

    # 圆角2
    fillet_2_edges = [part.edges().sort_by_distance(p)[0] for p in [
        (-10.810000011, 26.775, 0.425),
        (-36.492283434, 14.225, 0.425),
        (-10.810000011, 35.225, 1.925),
    ]]
    fillet(fillet_2_edges, radius=FILLET_2_R)

    # 圆角3
    fillet_3_edges = [part.edges().sort_by_distance(p)[0] for p in [
        (33.1, 4.5, 6.225),
    ]]
    fillet(fillet_3_edges, radius=FILLET_3_R)

    # 圆角4
    fillet_4_edges = [part.edges().sort_by_distance(p)[0] for p in [
        (-37.380000011, 35.225, 1.925),
    ]]
    fillet(fillet_4_edges, radius=FILLET_4_R)

    # 圆角5
    fillet_5_edges = [part.edges().sort_by_distance(p)[0] for p in [
        (-16.010000011, 26.775, 6.225),
        (-16.010000011, 5.625, 6.225),
        (25.809999989, 5.625, 6.225),
        (25.809999989, 26.775, 6.225),
        (-10.810000011, 29.2, 6.225),
        (-26.630000011, 17.925, 1.925),
        (-35.080000011, 17.925, 1.925),
    ]]
    fillet(fillet_5_edges, radius=FILLET_5_R)

    # 圆角6
    fillet_6_edges = [part.edges().sort_by_distance(p)[0] for p in [
        (-25.222125629, 26.775, 0.425),
    ]]
    fillet(fillet_6_edges, radius=FILLET_6_R)

    # 圆角7
    fillet_7_edges = [part.edges().sort_by_distance(p)[0] for p in [
        (27.699423591, 29.2, 6.225),
    ]]
    fillet(fillet_7_edges, radius=FILLET_7_R)


solid = part.part
